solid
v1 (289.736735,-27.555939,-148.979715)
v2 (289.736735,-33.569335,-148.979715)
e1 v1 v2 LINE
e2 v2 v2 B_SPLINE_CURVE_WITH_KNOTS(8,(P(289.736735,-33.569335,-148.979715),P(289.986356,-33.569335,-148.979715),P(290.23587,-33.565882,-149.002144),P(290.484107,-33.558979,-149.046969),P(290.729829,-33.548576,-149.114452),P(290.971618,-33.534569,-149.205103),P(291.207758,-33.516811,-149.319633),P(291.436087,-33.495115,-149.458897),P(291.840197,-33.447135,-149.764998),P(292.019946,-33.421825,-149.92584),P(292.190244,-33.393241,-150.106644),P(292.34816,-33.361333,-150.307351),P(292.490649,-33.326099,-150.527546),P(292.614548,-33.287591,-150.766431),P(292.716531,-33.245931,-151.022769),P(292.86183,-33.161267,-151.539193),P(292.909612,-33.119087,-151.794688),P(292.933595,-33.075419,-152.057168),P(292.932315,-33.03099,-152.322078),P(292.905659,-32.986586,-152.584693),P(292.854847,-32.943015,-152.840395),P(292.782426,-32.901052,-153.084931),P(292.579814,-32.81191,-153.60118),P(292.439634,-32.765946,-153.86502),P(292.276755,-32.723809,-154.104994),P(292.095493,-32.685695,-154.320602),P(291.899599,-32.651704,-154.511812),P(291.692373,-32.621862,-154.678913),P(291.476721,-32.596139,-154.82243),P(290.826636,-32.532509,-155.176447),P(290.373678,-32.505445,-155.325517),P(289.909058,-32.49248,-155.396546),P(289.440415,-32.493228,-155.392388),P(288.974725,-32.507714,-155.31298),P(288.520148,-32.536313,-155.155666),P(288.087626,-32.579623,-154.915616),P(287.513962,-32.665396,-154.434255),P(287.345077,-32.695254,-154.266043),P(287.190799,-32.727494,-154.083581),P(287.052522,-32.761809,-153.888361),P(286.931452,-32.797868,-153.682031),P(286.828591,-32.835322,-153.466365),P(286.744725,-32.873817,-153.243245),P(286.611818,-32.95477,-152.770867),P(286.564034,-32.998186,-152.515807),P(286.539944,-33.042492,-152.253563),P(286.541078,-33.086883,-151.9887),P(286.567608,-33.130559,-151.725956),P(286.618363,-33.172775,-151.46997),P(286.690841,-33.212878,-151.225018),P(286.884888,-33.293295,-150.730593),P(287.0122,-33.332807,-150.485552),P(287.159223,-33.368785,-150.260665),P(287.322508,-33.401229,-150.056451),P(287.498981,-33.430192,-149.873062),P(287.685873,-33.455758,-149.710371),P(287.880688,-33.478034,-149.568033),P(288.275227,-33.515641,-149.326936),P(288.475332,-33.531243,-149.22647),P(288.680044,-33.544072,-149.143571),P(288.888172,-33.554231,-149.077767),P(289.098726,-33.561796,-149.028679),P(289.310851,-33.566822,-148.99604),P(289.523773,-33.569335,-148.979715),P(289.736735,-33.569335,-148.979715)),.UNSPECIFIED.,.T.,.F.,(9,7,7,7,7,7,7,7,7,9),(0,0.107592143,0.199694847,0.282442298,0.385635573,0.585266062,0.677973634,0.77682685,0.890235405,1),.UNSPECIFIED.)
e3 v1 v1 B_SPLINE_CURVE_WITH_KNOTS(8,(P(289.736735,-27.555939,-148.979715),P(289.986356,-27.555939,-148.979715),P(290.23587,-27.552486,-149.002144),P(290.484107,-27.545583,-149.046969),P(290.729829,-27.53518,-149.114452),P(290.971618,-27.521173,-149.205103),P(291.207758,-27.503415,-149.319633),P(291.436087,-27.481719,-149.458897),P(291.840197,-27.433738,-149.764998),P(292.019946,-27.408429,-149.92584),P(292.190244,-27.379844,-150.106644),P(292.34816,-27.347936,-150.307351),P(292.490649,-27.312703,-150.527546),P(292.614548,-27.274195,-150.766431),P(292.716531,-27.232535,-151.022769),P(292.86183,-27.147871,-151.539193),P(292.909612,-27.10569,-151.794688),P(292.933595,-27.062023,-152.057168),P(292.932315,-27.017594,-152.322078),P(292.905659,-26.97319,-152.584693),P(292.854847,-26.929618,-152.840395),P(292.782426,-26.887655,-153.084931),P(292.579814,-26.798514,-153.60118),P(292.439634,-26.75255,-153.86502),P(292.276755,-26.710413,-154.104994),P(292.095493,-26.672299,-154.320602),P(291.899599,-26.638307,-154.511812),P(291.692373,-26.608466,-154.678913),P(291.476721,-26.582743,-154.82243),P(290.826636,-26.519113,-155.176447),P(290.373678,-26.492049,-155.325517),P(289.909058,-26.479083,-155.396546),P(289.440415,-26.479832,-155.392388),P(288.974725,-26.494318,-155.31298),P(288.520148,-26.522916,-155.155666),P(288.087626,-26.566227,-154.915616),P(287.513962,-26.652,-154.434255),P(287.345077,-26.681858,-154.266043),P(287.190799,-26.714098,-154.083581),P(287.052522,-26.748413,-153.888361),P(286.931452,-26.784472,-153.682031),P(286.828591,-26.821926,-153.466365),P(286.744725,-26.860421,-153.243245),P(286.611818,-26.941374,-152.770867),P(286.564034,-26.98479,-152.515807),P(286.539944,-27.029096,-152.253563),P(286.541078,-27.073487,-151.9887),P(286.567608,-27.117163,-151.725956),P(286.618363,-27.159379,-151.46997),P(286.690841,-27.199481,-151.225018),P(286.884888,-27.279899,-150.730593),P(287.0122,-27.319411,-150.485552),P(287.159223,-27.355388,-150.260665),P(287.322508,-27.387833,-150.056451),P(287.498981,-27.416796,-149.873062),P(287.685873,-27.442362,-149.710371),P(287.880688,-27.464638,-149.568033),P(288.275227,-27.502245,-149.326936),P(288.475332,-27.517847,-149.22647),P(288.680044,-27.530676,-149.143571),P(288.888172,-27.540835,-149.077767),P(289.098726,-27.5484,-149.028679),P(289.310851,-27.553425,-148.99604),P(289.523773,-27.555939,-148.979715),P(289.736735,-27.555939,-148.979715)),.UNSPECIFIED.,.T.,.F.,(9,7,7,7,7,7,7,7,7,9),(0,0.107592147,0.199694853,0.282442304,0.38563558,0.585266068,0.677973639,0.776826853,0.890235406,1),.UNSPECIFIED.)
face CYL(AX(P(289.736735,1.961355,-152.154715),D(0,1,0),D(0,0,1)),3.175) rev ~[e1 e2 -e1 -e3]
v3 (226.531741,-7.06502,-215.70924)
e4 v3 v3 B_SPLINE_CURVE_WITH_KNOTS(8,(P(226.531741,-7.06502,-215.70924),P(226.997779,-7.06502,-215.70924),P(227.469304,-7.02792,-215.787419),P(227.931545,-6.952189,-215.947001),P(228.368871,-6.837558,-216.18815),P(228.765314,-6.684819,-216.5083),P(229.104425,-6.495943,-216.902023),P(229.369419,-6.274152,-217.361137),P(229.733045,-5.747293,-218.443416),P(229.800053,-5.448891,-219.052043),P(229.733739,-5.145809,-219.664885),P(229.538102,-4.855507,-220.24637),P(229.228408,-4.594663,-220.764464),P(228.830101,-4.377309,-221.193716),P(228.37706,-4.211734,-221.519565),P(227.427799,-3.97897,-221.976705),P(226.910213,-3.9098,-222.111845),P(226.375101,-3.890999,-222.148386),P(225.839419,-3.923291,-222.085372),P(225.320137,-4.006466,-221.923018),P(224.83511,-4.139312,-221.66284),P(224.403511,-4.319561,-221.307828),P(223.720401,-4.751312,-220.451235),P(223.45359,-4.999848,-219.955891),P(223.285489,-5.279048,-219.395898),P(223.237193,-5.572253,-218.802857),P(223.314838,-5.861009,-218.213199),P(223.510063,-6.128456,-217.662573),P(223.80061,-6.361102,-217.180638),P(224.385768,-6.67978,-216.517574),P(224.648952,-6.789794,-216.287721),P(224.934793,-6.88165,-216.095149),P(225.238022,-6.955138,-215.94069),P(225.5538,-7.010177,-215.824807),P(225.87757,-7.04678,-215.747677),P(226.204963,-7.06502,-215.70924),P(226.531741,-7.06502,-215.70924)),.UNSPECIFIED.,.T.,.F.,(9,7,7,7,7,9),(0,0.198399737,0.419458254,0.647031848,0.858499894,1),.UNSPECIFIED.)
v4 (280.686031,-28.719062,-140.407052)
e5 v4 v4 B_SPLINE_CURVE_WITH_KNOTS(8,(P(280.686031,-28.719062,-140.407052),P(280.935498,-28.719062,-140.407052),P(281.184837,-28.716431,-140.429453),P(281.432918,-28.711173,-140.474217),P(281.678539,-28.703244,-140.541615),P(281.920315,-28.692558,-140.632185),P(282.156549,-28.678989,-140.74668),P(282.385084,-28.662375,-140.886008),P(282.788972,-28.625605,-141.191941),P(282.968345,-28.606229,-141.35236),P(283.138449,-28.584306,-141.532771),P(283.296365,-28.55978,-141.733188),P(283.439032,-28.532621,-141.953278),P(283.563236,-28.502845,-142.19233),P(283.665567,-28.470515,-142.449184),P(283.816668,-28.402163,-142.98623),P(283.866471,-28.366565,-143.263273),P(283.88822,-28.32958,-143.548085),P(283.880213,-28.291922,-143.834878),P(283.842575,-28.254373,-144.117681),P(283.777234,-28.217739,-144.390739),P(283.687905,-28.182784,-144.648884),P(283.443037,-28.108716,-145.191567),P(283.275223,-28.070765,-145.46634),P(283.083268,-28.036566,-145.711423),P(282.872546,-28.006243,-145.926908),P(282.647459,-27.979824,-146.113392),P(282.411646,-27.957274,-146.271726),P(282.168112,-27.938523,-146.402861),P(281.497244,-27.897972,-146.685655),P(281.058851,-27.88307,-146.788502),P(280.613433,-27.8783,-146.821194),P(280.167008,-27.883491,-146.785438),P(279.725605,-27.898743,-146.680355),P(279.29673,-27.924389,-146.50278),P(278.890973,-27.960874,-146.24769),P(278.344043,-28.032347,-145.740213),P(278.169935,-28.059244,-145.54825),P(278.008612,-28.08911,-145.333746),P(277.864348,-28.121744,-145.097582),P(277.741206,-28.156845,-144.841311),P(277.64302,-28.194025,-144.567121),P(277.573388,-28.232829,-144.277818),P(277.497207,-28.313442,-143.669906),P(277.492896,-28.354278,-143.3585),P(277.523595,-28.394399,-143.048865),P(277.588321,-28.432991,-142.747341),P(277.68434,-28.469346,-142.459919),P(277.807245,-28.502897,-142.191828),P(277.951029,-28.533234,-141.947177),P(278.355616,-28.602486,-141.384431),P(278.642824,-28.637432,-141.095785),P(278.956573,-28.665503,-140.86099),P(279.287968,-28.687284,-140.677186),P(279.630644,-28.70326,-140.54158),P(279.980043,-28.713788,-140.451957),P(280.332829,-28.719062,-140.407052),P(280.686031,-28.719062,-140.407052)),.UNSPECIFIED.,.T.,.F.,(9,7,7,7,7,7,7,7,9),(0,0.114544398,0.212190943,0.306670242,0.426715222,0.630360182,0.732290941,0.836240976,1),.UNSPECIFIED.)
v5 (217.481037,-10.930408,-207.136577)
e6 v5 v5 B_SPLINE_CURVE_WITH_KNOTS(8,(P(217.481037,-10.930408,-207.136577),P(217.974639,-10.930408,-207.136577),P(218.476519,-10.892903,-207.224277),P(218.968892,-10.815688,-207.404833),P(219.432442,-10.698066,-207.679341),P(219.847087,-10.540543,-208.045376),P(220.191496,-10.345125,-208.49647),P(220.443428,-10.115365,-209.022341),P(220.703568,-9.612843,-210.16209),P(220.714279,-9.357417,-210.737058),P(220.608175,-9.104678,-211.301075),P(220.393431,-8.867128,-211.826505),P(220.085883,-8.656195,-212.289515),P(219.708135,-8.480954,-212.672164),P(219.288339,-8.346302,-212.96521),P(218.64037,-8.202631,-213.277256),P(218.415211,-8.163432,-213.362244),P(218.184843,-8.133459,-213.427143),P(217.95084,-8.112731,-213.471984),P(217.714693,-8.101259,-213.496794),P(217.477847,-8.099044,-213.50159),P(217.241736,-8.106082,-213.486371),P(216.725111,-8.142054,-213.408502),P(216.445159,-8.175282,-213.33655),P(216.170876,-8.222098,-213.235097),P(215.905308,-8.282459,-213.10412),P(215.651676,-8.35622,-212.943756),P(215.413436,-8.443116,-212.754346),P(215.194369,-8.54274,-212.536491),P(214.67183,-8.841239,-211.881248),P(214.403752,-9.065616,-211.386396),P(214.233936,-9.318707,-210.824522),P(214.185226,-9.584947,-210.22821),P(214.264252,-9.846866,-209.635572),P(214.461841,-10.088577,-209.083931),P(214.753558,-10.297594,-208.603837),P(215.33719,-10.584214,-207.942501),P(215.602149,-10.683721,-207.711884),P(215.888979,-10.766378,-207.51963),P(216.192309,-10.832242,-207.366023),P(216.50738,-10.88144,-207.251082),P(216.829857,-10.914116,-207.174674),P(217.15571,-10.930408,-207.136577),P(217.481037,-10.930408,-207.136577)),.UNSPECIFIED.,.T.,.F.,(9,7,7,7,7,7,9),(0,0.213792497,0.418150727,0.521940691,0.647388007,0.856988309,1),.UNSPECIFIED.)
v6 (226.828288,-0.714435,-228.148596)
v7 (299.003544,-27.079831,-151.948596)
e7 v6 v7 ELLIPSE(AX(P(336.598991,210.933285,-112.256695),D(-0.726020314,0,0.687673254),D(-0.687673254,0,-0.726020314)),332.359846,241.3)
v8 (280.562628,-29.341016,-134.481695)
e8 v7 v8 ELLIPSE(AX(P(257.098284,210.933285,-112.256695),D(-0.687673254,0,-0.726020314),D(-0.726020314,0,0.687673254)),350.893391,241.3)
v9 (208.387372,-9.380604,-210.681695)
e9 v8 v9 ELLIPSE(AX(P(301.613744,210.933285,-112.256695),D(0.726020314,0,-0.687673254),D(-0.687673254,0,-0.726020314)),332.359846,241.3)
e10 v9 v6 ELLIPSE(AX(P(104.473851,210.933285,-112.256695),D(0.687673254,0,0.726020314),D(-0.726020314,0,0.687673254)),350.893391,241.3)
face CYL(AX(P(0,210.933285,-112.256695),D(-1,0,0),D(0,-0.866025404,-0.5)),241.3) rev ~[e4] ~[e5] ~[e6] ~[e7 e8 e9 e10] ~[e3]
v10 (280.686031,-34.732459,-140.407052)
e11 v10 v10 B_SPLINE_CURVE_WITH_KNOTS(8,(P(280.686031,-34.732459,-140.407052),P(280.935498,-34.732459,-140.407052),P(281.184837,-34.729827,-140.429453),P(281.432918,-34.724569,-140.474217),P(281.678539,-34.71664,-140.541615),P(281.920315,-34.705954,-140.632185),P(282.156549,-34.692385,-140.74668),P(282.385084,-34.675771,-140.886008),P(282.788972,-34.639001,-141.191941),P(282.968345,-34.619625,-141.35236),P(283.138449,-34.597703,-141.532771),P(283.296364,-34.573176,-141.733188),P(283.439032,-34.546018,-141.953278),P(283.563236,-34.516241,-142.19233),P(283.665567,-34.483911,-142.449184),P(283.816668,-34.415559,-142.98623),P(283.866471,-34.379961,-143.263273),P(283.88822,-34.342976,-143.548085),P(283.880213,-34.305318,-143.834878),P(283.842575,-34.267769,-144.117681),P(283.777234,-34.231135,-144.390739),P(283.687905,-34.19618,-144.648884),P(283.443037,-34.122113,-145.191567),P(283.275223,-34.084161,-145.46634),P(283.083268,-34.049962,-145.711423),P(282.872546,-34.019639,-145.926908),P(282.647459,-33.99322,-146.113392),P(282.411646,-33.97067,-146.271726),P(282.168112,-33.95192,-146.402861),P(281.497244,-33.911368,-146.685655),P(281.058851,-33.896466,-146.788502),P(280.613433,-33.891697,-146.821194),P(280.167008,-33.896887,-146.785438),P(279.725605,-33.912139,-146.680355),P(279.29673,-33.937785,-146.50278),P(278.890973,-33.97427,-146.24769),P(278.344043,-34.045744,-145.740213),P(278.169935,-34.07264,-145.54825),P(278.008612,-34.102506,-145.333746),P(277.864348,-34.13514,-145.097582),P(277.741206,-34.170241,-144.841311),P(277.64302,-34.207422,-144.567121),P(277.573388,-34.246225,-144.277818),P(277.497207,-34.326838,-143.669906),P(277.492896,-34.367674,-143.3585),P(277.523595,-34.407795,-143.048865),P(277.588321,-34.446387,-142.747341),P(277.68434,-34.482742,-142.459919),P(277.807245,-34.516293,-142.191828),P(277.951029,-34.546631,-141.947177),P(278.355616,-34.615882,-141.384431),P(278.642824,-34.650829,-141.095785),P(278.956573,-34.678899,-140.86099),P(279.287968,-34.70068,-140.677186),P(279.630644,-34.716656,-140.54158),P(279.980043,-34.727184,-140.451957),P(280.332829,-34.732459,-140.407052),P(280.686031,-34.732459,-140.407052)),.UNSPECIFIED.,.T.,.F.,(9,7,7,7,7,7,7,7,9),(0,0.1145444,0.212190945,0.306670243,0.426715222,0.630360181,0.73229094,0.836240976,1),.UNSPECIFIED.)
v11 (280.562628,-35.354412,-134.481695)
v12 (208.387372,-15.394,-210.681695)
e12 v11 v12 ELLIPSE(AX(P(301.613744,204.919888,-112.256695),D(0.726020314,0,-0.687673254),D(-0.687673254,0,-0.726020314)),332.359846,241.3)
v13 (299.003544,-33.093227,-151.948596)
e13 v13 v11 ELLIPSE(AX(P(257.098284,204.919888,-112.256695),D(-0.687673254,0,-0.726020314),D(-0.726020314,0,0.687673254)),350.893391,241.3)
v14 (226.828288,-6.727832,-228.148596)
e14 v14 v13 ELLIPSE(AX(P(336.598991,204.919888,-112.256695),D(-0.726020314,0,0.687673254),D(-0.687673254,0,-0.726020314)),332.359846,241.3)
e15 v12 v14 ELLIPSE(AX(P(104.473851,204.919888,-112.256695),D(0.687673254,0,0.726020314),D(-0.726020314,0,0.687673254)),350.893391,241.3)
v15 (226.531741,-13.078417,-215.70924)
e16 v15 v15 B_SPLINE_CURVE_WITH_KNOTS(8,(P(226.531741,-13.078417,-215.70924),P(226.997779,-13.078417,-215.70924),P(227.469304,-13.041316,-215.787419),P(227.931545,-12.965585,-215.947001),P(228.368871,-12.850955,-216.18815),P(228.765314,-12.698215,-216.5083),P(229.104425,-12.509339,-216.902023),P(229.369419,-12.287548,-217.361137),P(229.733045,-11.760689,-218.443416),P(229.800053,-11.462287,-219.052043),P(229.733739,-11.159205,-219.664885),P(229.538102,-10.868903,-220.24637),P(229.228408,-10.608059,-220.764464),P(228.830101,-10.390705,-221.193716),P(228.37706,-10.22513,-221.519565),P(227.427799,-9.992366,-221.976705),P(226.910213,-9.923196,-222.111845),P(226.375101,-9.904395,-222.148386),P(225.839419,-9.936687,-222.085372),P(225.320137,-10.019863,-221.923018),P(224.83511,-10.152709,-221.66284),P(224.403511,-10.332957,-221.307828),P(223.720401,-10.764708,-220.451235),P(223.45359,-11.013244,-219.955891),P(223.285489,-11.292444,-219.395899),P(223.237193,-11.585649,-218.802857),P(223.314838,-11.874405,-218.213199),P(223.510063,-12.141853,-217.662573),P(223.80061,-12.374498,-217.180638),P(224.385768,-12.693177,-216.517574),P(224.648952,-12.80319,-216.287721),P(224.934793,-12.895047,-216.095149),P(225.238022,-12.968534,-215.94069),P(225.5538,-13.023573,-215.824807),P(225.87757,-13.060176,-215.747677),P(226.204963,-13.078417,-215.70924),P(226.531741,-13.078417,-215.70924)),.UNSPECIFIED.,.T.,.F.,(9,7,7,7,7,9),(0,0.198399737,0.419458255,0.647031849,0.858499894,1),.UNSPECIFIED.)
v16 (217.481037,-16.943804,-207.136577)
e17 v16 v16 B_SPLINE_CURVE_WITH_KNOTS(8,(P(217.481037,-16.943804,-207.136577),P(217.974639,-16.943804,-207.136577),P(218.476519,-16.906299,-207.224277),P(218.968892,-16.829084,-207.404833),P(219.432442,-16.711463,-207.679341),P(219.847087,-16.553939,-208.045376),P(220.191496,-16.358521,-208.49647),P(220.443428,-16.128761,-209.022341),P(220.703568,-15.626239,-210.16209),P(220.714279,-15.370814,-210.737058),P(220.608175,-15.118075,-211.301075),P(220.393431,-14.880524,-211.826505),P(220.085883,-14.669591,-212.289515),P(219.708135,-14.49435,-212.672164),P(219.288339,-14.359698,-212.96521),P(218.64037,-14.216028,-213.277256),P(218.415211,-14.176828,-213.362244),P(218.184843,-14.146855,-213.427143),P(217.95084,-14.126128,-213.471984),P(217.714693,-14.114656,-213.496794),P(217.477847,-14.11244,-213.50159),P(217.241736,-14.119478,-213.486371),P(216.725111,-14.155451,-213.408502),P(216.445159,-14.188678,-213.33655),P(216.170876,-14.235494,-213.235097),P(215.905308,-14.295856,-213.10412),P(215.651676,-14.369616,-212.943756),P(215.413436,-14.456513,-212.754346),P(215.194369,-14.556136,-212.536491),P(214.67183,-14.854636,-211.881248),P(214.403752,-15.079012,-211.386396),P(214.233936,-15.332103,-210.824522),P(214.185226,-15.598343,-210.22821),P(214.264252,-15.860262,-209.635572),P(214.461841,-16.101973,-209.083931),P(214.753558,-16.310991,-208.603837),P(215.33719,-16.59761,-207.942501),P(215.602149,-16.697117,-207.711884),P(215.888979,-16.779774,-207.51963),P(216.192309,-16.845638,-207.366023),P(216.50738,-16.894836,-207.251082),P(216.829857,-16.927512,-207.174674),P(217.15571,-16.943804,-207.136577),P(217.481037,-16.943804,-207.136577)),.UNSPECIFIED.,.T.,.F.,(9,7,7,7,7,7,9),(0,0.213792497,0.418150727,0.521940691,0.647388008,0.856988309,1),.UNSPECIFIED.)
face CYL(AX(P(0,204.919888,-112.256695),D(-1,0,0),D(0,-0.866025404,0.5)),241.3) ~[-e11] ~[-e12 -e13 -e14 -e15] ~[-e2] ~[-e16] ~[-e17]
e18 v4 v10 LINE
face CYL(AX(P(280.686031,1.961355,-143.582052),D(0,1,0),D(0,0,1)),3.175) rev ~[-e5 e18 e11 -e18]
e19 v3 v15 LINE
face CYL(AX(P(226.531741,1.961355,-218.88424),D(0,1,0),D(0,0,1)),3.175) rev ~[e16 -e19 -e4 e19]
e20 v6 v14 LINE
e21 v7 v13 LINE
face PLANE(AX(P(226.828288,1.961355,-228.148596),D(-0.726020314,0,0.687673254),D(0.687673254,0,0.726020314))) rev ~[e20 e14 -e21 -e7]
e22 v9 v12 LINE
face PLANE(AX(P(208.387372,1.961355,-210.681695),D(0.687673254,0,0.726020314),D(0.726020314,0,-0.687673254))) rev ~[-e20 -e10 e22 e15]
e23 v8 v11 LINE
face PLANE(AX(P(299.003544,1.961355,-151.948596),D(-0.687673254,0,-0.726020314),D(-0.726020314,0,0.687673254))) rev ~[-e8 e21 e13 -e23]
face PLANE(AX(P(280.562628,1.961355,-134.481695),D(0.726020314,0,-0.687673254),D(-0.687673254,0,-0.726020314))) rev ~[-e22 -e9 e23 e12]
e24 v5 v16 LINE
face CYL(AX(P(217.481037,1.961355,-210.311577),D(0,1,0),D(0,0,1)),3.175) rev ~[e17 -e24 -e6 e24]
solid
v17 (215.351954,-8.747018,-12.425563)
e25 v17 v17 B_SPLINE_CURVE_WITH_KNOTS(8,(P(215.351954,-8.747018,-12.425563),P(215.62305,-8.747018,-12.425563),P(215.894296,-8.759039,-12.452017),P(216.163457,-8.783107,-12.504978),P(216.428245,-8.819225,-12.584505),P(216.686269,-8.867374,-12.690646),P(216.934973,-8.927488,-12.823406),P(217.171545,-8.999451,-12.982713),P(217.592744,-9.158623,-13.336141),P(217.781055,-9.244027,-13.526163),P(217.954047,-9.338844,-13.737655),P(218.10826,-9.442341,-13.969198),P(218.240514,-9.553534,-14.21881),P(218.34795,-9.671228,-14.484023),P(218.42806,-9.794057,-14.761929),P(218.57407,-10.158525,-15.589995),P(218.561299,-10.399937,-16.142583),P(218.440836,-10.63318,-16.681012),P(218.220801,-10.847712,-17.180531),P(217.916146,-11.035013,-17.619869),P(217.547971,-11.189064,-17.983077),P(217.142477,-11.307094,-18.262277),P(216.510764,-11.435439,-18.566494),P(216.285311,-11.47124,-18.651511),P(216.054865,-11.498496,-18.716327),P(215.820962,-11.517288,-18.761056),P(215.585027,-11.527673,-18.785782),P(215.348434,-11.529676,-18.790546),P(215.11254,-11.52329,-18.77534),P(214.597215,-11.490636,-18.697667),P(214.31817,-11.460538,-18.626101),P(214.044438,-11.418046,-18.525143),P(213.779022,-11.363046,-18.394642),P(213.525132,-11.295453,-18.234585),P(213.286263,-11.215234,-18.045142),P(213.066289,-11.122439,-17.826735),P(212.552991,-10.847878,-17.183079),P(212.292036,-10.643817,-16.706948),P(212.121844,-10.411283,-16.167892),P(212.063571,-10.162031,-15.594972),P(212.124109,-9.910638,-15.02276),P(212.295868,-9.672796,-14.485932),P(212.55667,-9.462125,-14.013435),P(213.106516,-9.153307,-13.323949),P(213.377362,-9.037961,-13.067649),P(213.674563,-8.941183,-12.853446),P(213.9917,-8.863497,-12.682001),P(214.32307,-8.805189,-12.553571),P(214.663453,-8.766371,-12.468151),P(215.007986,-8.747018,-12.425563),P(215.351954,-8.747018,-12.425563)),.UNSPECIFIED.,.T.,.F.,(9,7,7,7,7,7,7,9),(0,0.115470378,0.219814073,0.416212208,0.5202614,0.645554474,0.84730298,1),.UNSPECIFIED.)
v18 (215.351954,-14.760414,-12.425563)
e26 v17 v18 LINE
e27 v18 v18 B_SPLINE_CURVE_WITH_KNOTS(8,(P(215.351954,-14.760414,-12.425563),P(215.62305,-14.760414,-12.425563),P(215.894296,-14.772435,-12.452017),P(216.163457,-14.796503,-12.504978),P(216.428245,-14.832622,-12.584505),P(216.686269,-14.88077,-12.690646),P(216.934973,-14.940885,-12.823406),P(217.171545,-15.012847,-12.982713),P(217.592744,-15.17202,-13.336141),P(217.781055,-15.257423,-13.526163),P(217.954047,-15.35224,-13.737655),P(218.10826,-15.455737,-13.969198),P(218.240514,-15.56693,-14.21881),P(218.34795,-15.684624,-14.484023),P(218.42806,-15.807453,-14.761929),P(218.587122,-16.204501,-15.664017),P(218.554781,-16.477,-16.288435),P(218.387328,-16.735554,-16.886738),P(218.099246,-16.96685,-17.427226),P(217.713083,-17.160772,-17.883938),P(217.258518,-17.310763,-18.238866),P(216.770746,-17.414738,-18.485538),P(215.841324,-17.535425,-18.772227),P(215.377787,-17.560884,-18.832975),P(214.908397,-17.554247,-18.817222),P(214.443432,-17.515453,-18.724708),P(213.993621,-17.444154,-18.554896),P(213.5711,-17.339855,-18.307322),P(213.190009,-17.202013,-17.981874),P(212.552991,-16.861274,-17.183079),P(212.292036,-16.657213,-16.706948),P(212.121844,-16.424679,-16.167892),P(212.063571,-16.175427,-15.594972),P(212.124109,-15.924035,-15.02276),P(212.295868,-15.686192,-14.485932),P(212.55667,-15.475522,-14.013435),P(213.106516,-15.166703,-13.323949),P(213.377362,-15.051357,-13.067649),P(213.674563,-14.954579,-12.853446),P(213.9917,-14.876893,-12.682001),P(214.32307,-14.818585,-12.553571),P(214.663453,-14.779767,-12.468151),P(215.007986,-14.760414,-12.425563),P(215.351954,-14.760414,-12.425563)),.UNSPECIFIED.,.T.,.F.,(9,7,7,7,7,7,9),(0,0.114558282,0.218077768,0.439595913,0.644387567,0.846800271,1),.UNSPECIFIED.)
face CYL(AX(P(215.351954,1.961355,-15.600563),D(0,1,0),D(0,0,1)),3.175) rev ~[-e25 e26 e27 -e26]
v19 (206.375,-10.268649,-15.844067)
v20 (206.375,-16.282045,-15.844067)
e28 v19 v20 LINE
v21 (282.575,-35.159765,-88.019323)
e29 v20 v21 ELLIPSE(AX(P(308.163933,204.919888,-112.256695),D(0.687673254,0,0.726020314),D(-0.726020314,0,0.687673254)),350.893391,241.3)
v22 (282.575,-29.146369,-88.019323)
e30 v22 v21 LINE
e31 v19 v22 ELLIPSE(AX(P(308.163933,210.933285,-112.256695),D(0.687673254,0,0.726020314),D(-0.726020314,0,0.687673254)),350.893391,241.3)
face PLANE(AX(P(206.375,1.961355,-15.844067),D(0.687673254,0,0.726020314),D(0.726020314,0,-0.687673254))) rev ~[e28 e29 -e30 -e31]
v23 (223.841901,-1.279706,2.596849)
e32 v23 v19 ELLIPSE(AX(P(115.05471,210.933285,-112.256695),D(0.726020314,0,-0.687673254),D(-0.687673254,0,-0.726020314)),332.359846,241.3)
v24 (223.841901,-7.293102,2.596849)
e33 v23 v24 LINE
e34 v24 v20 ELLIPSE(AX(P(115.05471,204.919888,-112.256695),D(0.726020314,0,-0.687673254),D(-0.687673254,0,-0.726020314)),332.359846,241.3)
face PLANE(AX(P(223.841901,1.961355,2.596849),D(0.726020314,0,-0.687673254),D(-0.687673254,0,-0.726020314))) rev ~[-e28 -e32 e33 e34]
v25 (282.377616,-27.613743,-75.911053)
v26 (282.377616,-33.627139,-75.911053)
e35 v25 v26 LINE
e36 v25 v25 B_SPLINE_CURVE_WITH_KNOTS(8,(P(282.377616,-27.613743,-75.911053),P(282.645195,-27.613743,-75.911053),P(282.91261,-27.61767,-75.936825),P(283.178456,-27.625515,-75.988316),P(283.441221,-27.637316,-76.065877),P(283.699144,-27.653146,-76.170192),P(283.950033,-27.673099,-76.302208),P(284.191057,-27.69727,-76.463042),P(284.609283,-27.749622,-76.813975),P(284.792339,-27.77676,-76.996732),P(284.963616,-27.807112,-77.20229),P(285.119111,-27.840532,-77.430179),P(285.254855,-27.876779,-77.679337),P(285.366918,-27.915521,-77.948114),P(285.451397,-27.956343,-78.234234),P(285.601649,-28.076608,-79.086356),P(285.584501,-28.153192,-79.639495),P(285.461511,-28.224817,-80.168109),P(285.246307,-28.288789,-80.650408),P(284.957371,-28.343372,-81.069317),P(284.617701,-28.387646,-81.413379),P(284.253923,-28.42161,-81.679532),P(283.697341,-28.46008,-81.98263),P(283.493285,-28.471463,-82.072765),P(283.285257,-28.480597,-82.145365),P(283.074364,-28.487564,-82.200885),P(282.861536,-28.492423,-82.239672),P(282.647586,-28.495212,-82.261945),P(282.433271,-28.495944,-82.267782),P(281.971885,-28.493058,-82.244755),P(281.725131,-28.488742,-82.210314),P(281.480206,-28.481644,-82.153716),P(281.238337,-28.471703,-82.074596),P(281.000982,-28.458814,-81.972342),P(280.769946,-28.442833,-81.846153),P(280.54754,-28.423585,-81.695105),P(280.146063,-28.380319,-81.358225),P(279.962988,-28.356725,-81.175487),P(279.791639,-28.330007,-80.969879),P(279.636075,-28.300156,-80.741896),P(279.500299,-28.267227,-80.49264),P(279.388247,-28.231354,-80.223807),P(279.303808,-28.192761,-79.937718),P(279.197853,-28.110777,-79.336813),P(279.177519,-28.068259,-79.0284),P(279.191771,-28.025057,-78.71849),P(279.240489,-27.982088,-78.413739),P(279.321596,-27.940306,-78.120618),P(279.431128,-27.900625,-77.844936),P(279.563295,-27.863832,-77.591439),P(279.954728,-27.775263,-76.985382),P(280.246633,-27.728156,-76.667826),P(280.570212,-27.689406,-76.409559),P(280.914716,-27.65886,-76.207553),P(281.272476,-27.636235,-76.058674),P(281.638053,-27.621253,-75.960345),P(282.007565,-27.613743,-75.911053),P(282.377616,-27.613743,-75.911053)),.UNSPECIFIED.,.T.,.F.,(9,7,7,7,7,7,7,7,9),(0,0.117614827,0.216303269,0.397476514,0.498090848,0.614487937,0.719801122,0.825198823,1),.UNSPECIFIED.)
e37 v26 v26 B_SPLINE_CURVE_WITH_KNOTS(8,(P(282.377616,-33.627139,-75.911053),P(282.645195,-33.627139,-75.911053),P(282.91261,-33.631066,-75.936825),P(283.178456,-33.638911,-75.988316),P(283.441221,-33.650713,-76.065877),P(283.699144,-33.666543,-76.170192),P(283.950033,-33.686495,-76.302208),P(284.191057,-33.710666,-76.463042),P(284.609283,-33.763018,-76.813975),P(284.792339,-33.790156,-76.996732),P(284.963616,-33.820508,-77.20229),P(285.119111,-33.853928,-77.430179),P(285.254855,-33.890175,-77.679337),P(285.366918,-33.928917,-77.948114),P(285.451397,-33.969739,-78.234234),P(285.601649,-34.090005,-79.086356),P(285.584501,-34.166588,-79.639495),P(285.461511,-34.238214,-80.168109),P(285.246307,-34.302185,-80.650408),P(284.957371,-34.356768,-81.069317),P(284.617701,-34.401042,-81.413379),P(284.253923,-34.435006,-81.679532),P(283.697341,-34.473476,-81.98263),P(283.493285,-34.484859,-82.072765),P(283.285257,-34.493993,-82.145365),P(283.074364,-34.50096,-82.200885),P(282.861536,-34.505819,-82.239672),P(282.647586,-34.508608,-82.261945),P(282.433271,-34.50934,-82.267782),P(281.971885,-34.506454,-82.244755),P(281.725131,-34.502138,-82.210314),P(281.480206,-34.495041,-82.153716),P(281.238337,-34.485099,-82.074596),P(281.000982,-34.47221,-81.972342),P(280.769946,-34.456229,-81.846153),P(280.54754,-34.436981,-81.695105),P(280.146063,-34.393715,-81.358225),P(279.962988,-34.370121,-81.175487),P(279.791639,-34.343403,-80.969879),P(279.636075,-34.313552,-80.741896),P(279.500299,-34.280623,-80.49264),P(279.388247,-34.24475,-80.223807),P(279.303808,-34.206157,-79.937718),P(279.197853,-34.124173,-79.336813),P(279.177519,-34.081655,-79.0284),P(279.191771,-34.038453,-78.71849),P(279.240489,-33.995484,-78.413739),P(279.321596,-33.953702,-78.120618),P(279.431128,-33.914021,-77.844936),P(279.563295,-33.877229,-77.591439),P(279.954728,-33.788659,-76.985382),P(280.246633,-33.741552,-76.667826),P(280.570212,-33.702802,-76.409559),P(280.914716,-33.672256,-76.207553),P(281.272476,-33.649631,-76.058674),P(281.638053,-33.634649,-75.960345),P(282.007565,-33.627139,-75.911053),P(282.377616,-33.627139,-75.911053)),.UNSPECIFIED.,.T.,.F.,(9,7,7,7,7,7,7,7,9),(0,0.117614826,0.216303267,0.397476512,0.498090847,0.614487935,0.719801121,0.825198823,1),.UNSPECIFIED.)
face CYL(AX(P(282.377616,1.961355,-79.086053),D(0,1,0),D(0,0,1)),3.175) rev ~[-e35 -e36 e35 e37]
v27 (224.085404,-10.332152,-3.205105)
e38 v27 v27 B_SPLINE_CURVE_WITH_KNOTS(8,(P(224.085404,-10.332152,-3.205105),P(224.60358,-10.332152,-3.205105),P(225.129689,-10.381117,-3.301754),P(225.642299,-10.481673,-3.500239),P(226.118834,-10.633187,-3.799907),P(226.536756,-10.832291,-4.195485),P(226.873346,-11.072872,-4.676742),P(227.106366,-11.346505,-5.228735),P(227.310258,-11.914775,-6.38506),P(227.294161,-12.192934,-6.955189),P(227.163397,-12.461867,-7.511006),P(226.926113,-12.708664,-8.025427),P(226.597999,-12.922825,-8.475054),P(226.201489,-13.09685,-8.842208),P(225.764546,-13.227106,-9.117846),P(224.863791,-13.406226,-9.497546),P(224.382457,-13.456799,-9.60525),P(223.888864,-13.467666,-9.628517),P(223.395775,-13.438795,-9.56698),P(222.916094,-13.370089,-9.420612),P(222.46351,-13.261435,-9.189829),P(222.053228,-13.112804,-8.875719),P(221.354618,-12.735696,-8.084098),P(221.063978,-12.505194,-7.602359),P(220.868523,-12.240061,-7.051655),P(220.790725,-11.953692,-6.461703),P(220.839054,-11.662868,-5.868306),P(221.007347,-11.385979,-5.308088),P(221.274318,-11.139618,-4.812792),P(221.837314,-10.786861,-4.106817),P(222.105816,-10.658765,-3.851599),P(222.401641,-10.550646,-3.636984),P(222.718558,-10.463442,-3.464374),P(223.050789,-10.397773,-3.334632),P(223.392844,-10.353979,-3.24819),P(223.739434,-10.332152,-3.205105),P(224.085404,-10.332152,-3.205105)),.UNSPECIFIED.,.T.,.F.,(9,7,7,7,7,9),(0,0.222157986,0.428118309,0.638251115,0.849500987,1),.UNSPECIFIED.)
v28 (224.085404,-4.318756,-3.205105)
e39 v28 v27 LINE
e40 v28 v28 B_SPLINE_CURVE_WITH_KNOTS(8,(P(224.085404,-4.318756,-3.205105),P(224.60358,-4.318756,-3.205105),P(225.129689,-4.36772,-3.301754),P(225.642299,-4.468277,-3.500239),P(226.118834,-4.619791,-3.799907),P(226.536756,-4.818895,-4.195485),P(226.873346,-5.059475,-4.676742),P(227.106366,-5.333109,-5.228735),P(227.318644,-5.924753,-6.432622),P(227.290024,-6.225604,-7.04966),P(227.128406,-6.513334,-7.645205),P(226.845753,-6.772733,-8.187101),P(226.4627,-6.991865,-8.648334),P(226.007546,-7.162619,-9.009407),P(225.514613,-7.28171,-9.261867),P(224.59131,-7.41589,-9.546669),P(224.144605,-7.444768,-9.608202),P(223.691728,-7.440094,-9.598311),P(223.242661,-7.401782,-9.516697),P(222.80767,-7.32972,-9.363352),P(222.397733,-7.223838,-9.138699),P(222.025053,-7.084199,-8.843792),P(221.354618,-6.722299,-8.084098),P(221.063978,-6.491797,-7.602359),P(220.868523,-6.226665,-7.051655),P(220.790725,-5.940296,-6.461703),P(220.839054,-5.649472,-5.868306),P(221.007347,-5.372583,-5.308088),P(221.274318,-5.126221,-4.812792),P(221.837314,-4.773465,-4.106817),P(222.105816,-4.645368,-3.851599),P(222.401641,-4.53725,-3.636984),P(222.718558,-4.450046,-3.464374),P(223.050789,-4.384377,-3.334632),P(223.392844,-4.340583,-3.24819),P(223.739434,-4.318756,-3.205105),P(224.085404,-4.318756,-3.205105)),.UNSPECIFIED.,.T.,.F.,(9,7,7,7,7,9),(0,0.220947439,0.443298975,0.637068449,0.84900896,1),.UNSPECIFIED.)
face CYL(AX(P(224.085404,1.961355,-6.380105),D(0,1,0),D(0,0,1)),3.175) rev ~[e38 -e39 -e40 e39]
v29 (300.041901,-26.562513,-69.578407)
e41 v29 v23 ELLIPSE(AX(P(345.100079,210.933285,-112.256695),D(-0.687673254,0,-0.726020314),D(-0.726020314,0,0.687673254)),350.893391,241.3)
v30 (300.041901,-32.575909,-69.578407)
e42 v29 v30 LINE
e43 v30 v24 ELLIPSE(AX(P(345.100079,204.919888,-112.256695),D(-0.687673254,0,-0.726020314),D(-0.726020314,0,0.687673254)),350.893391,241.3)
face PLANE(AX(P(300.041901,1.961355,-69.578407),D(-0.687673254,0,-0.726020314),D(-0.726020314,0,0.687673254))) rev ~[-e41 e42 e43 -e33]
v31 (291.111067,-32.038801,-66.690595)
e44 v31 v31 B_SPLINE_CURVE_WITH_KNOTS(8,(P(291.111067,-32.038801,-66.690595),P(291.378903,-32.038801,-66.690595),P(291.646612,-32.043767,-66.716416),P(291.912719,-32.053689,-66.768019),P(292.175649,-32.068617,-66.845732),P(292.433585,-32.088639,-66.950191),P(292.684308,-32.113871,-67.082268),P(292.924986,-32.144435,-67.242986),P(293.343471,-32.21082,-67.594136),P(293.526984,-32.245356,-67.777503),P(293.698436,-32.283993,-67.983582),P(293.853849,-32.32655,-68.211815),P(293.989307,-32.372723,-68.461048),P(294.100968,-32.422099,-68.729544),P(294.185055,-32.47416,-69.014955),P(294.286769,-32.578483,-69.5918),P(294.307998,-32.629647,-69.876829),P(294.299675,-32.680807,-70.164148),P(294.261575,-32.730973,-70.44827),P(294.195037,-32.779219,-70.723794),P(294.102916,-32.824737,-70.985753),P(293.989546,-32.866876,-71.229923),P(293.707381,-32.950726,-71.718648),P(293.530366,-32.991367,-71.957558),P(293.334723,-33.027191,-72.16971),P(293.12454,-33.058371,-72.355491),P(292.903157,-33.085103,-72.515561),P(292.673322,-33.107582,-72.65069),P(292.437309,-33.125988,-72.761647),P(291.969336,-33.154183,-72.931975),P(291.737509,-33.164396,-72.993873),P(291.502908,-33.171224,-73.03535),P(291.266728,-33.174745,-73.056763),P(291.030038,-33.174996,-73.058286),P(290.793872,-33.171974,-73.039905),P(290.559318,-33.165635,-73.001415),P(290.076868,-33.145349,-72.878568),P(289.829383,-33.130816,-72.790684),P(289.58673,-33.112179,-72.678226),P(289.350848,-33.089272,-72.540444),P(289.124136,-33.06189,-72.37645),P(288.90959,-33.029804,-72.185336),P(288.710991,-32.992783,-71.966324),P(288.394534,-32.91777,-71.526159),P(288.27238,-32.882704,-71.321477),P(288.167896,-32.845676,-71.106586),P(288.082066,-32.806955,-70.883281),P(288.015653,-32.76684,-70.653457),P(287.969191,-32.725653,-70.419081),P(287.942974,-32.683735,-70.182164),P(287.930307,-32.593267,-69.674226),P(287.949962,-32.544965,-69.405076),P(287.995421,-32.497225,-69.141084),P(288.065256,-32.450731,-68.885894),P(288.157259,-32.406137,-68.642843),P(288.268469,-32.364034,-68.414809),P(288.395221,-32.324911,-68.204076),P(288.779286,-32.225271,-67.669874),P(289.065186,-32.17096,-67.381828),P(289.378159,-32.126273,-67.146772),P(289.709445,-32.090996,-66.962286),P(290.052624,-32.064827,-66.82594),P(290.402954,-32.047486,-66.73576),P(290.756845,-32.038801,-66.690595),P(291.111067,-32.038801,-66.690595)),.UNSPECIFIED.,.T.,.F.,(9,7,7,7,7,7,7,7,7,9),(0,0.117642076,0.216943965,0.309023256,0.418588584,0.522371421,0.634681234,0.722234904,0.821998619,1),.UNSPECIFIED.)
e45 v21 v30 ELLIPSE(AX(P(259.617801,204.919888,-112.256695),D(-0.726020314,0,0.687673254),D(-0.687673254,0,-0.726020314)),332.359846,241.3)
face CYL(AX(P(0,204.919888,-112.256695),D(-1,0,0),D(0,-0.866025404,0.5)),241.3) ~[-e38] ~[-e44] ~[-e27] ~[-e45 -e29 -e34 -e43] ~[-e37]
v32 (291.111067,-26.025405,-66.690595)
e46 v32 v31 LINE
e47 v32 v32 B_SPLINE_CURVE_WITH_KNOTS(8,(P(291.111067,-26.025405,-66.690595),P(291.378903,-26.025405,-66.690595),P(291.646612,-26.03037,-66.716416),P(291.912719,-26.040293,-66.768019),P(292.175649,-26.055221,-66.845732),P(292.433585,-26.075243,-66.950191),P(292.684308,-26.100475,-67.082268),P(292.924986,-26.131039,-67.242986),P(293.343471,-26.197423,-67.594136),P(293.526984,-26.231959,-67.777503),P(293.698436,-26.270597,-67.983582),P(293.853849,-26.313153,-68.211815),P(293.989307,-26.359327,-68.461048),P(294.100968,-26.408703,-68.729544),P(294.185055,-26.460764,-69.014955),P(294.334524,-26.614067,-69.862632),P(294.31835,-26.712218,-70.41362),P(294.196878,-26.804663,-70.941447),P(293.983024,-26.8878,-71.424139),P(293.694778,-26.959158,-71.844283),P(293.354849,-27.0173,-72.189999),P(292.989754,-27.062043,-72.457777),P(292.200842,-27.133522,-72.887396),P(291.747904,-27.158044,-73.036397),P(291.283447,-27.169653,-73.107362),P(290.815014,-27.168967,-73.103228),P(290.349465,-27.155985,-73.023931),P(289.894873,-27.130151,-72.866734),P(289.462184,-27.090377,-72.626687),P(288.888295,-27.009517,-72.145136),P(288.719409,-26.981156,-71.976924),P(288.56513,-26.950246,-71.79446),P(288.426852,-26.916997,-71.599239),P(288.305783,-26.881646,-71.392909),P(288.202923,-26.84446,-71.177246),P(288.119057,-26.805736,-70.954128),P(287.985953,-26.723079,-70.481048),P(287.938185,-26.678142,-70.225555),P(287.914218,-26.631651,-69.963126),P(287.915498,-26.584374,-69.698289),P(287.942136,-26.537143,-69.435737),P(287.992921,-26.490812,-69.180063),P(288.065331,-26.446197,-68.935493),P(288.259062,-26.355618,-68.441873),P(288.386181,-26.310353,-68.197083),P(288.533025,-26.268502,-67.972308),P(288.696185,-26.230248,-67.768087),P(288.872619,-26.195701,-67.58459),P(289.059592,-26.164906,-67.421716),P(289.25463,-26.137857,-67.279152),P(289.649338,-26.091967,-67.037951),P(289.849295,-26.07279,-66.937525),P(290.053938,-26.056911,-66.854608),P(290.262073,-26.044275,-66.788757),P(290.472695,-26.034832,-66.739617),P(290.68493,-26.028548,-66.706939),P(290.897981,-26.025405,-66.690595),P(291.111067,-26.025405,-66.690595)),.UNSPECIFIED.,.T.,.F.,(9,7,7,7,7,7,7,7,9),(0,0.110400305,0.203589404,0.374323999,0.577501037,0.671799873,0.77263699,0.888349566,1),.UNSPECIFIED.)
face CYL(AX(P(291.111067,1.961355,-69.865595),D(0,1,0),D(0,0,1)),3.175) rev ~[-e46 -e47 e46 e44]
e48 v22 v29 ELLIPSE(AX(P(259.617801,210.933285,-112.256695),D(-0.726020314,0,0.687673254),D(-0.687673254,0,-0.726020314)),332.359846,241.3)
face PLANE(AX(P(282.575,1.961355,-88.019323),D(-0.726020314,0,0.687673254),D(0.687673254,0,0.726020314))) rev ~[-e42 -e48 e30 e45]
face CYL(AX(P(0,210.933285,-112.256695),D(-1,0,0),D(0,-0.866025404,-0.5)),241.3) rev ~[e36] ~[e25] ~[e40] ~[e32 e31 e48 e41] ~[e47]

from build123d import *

# Parameters (mm, degrees)
BOSS_EXTRUDE4_DEPTH = 304.8
SKETCH5_OUTSIDE_W   = 384.928
SKETCH5_OUTSIDE_H   = 321.428
CUT_EXTRUDE1_DEPTH  = 304.8
SKETCH6_R           = 3.175
CUT_EXTRUDE2_DEPTH  = 304.8


with BuildPart() as part:
    # Sketch3 → Boss-Extrude4 (new body)
    with BuildSketch(Plane(origin=(0, 0, 0), x_dir=(0, 0, -1), z_dir=(1, 0, 0))):
        with BuildLine():
            ThreePointArc((232.90669496, 1.961354585), (112.25669496, -30.366715482), (-8.39330504, 1.961354585))
            Line((-8.39330504, 1.961354585), (-8.39330504, -4.052041589))
            ThreePointArc((-8.39330504, -4.052041589), (112.25669496, -36.380111656), (232.90669496, -4.052041589))
            Line((232.90669496, -4.052041589), (232.90669496, 1.961354585))
        make_face()
    extrude(amount=BOSS_EXTRUDE4_DEPTH)

    # Sketch5 outside → Cut-Extrude1 (cut)
    with BuildSketch(Plane(origin=(0, 1.961354585, 0), x_dir=(1, 0, 0), z_dir=(0, 1, 0))):
        with Locations((152.4, 112.257)):
            Rectangle(SKETCH5_OUTSIDE_W, SKETCH5_OUTSIDE_H)
        Polygon((226.828288051, 228.148595599), (299.003543902, 151.948595599), (280.562627926, 134.48169496), (208.387372074, 210.68169496), align=None, mode=Mode.SUBTRACT)
        Polygon((282.575, 88.019322885), (300.04190064, 69.578406909), (223.84190064, -2.596848943), (206.375, 15.844067034), align=None, mode=Mode.SUBTRACT)
    extrude(amount=-CUT_EXTRUDE1_DEPTH, mode=Mode.SUBTRACT)


with BuildPart() as cut_extrude1_piece_1:
    # of the separate pieces the step leaves, piece 1, a body of its own (cut_extrude1_pieces)
    add(part.part.solids().sort_by_distance((206.375, -10.268648513, -15.844067034))[0])


with BuildPart() as cut_extrude1_piece_2:
    # of the separate pieces the step leaves, piece 2, a body of its own (cut_extrude1_pieces)
    add(part.part.solids().sort_by_distance((208.387372074, -9.380603776, -210.68169496))[0])


with BuildPart() as cut_extrude2_tool:
    # Sketch6 → Cut-Extrude2 (new body)
    with BuildSketch(Plane(origin=(0, 1.961354585, 0), x_dir=(1, 0, 0), z_dir=(0, 1, 0))):
        with Locations(Location((224.085404474, 6.380105211, 0), (0, 0, 270))):
            Circle(SKETCH6_R)
        with Locations(Location((215.351954154, 15.6005632, 0), (0, 0, 270))):
            Circle(SKETCH6_R)
        with Locations(Location((282.377616466, 79.086053042, 0), (0, 0, 270))):
            Circle(SKETCH6_R)
        with Locations(Location((291.111066785, 69.865595053, 0), (0, 0, 270))):
            Circle(SKETCH6_R)
        with Locations(Location((280.686030826, 143.582052014, 0), (0, 0, 270))):
            Circle(SKETCH6_R)
        with Locations(Location((289.736735323, 152.15471491, 0), (0, 0, 270))):
            Circle(SKETCH6_R)
        with Locations(Location((226.531741371, 218.884239902, 0), (0, 0, 270))):
            Circle(SKETCH6_R)
        with Locations(Location((217.481036874, 210.311577006, 0), (0, 0, 270))):
            Circle(SKETCH6_R)
    extrude(amount=-CUT_EXTRUDE2_DEPTH)


with BuildPart() as cut_extrude1_piece_1_1:
    add(cut_extrude1_piece_1.part)

    # Cut-Extrude2: cut by cut_extrude2_tool
    add(cut_extrude2_tool.part, mode=Mode.SUBTRACT)


with BuildPart() as cut_extrude1_piece_2_1:
    add(cut_extrude1_piece_2.part)

    # Cut-Extrude2: cut by cut_extrude2_tool
    add(cut_extrude2_tool.part, mode=Mode.SUBTRACT)


solid = Compound([cut_extrude1_piece_1_1.part, cut_extrude1_piece_2_1.part])
